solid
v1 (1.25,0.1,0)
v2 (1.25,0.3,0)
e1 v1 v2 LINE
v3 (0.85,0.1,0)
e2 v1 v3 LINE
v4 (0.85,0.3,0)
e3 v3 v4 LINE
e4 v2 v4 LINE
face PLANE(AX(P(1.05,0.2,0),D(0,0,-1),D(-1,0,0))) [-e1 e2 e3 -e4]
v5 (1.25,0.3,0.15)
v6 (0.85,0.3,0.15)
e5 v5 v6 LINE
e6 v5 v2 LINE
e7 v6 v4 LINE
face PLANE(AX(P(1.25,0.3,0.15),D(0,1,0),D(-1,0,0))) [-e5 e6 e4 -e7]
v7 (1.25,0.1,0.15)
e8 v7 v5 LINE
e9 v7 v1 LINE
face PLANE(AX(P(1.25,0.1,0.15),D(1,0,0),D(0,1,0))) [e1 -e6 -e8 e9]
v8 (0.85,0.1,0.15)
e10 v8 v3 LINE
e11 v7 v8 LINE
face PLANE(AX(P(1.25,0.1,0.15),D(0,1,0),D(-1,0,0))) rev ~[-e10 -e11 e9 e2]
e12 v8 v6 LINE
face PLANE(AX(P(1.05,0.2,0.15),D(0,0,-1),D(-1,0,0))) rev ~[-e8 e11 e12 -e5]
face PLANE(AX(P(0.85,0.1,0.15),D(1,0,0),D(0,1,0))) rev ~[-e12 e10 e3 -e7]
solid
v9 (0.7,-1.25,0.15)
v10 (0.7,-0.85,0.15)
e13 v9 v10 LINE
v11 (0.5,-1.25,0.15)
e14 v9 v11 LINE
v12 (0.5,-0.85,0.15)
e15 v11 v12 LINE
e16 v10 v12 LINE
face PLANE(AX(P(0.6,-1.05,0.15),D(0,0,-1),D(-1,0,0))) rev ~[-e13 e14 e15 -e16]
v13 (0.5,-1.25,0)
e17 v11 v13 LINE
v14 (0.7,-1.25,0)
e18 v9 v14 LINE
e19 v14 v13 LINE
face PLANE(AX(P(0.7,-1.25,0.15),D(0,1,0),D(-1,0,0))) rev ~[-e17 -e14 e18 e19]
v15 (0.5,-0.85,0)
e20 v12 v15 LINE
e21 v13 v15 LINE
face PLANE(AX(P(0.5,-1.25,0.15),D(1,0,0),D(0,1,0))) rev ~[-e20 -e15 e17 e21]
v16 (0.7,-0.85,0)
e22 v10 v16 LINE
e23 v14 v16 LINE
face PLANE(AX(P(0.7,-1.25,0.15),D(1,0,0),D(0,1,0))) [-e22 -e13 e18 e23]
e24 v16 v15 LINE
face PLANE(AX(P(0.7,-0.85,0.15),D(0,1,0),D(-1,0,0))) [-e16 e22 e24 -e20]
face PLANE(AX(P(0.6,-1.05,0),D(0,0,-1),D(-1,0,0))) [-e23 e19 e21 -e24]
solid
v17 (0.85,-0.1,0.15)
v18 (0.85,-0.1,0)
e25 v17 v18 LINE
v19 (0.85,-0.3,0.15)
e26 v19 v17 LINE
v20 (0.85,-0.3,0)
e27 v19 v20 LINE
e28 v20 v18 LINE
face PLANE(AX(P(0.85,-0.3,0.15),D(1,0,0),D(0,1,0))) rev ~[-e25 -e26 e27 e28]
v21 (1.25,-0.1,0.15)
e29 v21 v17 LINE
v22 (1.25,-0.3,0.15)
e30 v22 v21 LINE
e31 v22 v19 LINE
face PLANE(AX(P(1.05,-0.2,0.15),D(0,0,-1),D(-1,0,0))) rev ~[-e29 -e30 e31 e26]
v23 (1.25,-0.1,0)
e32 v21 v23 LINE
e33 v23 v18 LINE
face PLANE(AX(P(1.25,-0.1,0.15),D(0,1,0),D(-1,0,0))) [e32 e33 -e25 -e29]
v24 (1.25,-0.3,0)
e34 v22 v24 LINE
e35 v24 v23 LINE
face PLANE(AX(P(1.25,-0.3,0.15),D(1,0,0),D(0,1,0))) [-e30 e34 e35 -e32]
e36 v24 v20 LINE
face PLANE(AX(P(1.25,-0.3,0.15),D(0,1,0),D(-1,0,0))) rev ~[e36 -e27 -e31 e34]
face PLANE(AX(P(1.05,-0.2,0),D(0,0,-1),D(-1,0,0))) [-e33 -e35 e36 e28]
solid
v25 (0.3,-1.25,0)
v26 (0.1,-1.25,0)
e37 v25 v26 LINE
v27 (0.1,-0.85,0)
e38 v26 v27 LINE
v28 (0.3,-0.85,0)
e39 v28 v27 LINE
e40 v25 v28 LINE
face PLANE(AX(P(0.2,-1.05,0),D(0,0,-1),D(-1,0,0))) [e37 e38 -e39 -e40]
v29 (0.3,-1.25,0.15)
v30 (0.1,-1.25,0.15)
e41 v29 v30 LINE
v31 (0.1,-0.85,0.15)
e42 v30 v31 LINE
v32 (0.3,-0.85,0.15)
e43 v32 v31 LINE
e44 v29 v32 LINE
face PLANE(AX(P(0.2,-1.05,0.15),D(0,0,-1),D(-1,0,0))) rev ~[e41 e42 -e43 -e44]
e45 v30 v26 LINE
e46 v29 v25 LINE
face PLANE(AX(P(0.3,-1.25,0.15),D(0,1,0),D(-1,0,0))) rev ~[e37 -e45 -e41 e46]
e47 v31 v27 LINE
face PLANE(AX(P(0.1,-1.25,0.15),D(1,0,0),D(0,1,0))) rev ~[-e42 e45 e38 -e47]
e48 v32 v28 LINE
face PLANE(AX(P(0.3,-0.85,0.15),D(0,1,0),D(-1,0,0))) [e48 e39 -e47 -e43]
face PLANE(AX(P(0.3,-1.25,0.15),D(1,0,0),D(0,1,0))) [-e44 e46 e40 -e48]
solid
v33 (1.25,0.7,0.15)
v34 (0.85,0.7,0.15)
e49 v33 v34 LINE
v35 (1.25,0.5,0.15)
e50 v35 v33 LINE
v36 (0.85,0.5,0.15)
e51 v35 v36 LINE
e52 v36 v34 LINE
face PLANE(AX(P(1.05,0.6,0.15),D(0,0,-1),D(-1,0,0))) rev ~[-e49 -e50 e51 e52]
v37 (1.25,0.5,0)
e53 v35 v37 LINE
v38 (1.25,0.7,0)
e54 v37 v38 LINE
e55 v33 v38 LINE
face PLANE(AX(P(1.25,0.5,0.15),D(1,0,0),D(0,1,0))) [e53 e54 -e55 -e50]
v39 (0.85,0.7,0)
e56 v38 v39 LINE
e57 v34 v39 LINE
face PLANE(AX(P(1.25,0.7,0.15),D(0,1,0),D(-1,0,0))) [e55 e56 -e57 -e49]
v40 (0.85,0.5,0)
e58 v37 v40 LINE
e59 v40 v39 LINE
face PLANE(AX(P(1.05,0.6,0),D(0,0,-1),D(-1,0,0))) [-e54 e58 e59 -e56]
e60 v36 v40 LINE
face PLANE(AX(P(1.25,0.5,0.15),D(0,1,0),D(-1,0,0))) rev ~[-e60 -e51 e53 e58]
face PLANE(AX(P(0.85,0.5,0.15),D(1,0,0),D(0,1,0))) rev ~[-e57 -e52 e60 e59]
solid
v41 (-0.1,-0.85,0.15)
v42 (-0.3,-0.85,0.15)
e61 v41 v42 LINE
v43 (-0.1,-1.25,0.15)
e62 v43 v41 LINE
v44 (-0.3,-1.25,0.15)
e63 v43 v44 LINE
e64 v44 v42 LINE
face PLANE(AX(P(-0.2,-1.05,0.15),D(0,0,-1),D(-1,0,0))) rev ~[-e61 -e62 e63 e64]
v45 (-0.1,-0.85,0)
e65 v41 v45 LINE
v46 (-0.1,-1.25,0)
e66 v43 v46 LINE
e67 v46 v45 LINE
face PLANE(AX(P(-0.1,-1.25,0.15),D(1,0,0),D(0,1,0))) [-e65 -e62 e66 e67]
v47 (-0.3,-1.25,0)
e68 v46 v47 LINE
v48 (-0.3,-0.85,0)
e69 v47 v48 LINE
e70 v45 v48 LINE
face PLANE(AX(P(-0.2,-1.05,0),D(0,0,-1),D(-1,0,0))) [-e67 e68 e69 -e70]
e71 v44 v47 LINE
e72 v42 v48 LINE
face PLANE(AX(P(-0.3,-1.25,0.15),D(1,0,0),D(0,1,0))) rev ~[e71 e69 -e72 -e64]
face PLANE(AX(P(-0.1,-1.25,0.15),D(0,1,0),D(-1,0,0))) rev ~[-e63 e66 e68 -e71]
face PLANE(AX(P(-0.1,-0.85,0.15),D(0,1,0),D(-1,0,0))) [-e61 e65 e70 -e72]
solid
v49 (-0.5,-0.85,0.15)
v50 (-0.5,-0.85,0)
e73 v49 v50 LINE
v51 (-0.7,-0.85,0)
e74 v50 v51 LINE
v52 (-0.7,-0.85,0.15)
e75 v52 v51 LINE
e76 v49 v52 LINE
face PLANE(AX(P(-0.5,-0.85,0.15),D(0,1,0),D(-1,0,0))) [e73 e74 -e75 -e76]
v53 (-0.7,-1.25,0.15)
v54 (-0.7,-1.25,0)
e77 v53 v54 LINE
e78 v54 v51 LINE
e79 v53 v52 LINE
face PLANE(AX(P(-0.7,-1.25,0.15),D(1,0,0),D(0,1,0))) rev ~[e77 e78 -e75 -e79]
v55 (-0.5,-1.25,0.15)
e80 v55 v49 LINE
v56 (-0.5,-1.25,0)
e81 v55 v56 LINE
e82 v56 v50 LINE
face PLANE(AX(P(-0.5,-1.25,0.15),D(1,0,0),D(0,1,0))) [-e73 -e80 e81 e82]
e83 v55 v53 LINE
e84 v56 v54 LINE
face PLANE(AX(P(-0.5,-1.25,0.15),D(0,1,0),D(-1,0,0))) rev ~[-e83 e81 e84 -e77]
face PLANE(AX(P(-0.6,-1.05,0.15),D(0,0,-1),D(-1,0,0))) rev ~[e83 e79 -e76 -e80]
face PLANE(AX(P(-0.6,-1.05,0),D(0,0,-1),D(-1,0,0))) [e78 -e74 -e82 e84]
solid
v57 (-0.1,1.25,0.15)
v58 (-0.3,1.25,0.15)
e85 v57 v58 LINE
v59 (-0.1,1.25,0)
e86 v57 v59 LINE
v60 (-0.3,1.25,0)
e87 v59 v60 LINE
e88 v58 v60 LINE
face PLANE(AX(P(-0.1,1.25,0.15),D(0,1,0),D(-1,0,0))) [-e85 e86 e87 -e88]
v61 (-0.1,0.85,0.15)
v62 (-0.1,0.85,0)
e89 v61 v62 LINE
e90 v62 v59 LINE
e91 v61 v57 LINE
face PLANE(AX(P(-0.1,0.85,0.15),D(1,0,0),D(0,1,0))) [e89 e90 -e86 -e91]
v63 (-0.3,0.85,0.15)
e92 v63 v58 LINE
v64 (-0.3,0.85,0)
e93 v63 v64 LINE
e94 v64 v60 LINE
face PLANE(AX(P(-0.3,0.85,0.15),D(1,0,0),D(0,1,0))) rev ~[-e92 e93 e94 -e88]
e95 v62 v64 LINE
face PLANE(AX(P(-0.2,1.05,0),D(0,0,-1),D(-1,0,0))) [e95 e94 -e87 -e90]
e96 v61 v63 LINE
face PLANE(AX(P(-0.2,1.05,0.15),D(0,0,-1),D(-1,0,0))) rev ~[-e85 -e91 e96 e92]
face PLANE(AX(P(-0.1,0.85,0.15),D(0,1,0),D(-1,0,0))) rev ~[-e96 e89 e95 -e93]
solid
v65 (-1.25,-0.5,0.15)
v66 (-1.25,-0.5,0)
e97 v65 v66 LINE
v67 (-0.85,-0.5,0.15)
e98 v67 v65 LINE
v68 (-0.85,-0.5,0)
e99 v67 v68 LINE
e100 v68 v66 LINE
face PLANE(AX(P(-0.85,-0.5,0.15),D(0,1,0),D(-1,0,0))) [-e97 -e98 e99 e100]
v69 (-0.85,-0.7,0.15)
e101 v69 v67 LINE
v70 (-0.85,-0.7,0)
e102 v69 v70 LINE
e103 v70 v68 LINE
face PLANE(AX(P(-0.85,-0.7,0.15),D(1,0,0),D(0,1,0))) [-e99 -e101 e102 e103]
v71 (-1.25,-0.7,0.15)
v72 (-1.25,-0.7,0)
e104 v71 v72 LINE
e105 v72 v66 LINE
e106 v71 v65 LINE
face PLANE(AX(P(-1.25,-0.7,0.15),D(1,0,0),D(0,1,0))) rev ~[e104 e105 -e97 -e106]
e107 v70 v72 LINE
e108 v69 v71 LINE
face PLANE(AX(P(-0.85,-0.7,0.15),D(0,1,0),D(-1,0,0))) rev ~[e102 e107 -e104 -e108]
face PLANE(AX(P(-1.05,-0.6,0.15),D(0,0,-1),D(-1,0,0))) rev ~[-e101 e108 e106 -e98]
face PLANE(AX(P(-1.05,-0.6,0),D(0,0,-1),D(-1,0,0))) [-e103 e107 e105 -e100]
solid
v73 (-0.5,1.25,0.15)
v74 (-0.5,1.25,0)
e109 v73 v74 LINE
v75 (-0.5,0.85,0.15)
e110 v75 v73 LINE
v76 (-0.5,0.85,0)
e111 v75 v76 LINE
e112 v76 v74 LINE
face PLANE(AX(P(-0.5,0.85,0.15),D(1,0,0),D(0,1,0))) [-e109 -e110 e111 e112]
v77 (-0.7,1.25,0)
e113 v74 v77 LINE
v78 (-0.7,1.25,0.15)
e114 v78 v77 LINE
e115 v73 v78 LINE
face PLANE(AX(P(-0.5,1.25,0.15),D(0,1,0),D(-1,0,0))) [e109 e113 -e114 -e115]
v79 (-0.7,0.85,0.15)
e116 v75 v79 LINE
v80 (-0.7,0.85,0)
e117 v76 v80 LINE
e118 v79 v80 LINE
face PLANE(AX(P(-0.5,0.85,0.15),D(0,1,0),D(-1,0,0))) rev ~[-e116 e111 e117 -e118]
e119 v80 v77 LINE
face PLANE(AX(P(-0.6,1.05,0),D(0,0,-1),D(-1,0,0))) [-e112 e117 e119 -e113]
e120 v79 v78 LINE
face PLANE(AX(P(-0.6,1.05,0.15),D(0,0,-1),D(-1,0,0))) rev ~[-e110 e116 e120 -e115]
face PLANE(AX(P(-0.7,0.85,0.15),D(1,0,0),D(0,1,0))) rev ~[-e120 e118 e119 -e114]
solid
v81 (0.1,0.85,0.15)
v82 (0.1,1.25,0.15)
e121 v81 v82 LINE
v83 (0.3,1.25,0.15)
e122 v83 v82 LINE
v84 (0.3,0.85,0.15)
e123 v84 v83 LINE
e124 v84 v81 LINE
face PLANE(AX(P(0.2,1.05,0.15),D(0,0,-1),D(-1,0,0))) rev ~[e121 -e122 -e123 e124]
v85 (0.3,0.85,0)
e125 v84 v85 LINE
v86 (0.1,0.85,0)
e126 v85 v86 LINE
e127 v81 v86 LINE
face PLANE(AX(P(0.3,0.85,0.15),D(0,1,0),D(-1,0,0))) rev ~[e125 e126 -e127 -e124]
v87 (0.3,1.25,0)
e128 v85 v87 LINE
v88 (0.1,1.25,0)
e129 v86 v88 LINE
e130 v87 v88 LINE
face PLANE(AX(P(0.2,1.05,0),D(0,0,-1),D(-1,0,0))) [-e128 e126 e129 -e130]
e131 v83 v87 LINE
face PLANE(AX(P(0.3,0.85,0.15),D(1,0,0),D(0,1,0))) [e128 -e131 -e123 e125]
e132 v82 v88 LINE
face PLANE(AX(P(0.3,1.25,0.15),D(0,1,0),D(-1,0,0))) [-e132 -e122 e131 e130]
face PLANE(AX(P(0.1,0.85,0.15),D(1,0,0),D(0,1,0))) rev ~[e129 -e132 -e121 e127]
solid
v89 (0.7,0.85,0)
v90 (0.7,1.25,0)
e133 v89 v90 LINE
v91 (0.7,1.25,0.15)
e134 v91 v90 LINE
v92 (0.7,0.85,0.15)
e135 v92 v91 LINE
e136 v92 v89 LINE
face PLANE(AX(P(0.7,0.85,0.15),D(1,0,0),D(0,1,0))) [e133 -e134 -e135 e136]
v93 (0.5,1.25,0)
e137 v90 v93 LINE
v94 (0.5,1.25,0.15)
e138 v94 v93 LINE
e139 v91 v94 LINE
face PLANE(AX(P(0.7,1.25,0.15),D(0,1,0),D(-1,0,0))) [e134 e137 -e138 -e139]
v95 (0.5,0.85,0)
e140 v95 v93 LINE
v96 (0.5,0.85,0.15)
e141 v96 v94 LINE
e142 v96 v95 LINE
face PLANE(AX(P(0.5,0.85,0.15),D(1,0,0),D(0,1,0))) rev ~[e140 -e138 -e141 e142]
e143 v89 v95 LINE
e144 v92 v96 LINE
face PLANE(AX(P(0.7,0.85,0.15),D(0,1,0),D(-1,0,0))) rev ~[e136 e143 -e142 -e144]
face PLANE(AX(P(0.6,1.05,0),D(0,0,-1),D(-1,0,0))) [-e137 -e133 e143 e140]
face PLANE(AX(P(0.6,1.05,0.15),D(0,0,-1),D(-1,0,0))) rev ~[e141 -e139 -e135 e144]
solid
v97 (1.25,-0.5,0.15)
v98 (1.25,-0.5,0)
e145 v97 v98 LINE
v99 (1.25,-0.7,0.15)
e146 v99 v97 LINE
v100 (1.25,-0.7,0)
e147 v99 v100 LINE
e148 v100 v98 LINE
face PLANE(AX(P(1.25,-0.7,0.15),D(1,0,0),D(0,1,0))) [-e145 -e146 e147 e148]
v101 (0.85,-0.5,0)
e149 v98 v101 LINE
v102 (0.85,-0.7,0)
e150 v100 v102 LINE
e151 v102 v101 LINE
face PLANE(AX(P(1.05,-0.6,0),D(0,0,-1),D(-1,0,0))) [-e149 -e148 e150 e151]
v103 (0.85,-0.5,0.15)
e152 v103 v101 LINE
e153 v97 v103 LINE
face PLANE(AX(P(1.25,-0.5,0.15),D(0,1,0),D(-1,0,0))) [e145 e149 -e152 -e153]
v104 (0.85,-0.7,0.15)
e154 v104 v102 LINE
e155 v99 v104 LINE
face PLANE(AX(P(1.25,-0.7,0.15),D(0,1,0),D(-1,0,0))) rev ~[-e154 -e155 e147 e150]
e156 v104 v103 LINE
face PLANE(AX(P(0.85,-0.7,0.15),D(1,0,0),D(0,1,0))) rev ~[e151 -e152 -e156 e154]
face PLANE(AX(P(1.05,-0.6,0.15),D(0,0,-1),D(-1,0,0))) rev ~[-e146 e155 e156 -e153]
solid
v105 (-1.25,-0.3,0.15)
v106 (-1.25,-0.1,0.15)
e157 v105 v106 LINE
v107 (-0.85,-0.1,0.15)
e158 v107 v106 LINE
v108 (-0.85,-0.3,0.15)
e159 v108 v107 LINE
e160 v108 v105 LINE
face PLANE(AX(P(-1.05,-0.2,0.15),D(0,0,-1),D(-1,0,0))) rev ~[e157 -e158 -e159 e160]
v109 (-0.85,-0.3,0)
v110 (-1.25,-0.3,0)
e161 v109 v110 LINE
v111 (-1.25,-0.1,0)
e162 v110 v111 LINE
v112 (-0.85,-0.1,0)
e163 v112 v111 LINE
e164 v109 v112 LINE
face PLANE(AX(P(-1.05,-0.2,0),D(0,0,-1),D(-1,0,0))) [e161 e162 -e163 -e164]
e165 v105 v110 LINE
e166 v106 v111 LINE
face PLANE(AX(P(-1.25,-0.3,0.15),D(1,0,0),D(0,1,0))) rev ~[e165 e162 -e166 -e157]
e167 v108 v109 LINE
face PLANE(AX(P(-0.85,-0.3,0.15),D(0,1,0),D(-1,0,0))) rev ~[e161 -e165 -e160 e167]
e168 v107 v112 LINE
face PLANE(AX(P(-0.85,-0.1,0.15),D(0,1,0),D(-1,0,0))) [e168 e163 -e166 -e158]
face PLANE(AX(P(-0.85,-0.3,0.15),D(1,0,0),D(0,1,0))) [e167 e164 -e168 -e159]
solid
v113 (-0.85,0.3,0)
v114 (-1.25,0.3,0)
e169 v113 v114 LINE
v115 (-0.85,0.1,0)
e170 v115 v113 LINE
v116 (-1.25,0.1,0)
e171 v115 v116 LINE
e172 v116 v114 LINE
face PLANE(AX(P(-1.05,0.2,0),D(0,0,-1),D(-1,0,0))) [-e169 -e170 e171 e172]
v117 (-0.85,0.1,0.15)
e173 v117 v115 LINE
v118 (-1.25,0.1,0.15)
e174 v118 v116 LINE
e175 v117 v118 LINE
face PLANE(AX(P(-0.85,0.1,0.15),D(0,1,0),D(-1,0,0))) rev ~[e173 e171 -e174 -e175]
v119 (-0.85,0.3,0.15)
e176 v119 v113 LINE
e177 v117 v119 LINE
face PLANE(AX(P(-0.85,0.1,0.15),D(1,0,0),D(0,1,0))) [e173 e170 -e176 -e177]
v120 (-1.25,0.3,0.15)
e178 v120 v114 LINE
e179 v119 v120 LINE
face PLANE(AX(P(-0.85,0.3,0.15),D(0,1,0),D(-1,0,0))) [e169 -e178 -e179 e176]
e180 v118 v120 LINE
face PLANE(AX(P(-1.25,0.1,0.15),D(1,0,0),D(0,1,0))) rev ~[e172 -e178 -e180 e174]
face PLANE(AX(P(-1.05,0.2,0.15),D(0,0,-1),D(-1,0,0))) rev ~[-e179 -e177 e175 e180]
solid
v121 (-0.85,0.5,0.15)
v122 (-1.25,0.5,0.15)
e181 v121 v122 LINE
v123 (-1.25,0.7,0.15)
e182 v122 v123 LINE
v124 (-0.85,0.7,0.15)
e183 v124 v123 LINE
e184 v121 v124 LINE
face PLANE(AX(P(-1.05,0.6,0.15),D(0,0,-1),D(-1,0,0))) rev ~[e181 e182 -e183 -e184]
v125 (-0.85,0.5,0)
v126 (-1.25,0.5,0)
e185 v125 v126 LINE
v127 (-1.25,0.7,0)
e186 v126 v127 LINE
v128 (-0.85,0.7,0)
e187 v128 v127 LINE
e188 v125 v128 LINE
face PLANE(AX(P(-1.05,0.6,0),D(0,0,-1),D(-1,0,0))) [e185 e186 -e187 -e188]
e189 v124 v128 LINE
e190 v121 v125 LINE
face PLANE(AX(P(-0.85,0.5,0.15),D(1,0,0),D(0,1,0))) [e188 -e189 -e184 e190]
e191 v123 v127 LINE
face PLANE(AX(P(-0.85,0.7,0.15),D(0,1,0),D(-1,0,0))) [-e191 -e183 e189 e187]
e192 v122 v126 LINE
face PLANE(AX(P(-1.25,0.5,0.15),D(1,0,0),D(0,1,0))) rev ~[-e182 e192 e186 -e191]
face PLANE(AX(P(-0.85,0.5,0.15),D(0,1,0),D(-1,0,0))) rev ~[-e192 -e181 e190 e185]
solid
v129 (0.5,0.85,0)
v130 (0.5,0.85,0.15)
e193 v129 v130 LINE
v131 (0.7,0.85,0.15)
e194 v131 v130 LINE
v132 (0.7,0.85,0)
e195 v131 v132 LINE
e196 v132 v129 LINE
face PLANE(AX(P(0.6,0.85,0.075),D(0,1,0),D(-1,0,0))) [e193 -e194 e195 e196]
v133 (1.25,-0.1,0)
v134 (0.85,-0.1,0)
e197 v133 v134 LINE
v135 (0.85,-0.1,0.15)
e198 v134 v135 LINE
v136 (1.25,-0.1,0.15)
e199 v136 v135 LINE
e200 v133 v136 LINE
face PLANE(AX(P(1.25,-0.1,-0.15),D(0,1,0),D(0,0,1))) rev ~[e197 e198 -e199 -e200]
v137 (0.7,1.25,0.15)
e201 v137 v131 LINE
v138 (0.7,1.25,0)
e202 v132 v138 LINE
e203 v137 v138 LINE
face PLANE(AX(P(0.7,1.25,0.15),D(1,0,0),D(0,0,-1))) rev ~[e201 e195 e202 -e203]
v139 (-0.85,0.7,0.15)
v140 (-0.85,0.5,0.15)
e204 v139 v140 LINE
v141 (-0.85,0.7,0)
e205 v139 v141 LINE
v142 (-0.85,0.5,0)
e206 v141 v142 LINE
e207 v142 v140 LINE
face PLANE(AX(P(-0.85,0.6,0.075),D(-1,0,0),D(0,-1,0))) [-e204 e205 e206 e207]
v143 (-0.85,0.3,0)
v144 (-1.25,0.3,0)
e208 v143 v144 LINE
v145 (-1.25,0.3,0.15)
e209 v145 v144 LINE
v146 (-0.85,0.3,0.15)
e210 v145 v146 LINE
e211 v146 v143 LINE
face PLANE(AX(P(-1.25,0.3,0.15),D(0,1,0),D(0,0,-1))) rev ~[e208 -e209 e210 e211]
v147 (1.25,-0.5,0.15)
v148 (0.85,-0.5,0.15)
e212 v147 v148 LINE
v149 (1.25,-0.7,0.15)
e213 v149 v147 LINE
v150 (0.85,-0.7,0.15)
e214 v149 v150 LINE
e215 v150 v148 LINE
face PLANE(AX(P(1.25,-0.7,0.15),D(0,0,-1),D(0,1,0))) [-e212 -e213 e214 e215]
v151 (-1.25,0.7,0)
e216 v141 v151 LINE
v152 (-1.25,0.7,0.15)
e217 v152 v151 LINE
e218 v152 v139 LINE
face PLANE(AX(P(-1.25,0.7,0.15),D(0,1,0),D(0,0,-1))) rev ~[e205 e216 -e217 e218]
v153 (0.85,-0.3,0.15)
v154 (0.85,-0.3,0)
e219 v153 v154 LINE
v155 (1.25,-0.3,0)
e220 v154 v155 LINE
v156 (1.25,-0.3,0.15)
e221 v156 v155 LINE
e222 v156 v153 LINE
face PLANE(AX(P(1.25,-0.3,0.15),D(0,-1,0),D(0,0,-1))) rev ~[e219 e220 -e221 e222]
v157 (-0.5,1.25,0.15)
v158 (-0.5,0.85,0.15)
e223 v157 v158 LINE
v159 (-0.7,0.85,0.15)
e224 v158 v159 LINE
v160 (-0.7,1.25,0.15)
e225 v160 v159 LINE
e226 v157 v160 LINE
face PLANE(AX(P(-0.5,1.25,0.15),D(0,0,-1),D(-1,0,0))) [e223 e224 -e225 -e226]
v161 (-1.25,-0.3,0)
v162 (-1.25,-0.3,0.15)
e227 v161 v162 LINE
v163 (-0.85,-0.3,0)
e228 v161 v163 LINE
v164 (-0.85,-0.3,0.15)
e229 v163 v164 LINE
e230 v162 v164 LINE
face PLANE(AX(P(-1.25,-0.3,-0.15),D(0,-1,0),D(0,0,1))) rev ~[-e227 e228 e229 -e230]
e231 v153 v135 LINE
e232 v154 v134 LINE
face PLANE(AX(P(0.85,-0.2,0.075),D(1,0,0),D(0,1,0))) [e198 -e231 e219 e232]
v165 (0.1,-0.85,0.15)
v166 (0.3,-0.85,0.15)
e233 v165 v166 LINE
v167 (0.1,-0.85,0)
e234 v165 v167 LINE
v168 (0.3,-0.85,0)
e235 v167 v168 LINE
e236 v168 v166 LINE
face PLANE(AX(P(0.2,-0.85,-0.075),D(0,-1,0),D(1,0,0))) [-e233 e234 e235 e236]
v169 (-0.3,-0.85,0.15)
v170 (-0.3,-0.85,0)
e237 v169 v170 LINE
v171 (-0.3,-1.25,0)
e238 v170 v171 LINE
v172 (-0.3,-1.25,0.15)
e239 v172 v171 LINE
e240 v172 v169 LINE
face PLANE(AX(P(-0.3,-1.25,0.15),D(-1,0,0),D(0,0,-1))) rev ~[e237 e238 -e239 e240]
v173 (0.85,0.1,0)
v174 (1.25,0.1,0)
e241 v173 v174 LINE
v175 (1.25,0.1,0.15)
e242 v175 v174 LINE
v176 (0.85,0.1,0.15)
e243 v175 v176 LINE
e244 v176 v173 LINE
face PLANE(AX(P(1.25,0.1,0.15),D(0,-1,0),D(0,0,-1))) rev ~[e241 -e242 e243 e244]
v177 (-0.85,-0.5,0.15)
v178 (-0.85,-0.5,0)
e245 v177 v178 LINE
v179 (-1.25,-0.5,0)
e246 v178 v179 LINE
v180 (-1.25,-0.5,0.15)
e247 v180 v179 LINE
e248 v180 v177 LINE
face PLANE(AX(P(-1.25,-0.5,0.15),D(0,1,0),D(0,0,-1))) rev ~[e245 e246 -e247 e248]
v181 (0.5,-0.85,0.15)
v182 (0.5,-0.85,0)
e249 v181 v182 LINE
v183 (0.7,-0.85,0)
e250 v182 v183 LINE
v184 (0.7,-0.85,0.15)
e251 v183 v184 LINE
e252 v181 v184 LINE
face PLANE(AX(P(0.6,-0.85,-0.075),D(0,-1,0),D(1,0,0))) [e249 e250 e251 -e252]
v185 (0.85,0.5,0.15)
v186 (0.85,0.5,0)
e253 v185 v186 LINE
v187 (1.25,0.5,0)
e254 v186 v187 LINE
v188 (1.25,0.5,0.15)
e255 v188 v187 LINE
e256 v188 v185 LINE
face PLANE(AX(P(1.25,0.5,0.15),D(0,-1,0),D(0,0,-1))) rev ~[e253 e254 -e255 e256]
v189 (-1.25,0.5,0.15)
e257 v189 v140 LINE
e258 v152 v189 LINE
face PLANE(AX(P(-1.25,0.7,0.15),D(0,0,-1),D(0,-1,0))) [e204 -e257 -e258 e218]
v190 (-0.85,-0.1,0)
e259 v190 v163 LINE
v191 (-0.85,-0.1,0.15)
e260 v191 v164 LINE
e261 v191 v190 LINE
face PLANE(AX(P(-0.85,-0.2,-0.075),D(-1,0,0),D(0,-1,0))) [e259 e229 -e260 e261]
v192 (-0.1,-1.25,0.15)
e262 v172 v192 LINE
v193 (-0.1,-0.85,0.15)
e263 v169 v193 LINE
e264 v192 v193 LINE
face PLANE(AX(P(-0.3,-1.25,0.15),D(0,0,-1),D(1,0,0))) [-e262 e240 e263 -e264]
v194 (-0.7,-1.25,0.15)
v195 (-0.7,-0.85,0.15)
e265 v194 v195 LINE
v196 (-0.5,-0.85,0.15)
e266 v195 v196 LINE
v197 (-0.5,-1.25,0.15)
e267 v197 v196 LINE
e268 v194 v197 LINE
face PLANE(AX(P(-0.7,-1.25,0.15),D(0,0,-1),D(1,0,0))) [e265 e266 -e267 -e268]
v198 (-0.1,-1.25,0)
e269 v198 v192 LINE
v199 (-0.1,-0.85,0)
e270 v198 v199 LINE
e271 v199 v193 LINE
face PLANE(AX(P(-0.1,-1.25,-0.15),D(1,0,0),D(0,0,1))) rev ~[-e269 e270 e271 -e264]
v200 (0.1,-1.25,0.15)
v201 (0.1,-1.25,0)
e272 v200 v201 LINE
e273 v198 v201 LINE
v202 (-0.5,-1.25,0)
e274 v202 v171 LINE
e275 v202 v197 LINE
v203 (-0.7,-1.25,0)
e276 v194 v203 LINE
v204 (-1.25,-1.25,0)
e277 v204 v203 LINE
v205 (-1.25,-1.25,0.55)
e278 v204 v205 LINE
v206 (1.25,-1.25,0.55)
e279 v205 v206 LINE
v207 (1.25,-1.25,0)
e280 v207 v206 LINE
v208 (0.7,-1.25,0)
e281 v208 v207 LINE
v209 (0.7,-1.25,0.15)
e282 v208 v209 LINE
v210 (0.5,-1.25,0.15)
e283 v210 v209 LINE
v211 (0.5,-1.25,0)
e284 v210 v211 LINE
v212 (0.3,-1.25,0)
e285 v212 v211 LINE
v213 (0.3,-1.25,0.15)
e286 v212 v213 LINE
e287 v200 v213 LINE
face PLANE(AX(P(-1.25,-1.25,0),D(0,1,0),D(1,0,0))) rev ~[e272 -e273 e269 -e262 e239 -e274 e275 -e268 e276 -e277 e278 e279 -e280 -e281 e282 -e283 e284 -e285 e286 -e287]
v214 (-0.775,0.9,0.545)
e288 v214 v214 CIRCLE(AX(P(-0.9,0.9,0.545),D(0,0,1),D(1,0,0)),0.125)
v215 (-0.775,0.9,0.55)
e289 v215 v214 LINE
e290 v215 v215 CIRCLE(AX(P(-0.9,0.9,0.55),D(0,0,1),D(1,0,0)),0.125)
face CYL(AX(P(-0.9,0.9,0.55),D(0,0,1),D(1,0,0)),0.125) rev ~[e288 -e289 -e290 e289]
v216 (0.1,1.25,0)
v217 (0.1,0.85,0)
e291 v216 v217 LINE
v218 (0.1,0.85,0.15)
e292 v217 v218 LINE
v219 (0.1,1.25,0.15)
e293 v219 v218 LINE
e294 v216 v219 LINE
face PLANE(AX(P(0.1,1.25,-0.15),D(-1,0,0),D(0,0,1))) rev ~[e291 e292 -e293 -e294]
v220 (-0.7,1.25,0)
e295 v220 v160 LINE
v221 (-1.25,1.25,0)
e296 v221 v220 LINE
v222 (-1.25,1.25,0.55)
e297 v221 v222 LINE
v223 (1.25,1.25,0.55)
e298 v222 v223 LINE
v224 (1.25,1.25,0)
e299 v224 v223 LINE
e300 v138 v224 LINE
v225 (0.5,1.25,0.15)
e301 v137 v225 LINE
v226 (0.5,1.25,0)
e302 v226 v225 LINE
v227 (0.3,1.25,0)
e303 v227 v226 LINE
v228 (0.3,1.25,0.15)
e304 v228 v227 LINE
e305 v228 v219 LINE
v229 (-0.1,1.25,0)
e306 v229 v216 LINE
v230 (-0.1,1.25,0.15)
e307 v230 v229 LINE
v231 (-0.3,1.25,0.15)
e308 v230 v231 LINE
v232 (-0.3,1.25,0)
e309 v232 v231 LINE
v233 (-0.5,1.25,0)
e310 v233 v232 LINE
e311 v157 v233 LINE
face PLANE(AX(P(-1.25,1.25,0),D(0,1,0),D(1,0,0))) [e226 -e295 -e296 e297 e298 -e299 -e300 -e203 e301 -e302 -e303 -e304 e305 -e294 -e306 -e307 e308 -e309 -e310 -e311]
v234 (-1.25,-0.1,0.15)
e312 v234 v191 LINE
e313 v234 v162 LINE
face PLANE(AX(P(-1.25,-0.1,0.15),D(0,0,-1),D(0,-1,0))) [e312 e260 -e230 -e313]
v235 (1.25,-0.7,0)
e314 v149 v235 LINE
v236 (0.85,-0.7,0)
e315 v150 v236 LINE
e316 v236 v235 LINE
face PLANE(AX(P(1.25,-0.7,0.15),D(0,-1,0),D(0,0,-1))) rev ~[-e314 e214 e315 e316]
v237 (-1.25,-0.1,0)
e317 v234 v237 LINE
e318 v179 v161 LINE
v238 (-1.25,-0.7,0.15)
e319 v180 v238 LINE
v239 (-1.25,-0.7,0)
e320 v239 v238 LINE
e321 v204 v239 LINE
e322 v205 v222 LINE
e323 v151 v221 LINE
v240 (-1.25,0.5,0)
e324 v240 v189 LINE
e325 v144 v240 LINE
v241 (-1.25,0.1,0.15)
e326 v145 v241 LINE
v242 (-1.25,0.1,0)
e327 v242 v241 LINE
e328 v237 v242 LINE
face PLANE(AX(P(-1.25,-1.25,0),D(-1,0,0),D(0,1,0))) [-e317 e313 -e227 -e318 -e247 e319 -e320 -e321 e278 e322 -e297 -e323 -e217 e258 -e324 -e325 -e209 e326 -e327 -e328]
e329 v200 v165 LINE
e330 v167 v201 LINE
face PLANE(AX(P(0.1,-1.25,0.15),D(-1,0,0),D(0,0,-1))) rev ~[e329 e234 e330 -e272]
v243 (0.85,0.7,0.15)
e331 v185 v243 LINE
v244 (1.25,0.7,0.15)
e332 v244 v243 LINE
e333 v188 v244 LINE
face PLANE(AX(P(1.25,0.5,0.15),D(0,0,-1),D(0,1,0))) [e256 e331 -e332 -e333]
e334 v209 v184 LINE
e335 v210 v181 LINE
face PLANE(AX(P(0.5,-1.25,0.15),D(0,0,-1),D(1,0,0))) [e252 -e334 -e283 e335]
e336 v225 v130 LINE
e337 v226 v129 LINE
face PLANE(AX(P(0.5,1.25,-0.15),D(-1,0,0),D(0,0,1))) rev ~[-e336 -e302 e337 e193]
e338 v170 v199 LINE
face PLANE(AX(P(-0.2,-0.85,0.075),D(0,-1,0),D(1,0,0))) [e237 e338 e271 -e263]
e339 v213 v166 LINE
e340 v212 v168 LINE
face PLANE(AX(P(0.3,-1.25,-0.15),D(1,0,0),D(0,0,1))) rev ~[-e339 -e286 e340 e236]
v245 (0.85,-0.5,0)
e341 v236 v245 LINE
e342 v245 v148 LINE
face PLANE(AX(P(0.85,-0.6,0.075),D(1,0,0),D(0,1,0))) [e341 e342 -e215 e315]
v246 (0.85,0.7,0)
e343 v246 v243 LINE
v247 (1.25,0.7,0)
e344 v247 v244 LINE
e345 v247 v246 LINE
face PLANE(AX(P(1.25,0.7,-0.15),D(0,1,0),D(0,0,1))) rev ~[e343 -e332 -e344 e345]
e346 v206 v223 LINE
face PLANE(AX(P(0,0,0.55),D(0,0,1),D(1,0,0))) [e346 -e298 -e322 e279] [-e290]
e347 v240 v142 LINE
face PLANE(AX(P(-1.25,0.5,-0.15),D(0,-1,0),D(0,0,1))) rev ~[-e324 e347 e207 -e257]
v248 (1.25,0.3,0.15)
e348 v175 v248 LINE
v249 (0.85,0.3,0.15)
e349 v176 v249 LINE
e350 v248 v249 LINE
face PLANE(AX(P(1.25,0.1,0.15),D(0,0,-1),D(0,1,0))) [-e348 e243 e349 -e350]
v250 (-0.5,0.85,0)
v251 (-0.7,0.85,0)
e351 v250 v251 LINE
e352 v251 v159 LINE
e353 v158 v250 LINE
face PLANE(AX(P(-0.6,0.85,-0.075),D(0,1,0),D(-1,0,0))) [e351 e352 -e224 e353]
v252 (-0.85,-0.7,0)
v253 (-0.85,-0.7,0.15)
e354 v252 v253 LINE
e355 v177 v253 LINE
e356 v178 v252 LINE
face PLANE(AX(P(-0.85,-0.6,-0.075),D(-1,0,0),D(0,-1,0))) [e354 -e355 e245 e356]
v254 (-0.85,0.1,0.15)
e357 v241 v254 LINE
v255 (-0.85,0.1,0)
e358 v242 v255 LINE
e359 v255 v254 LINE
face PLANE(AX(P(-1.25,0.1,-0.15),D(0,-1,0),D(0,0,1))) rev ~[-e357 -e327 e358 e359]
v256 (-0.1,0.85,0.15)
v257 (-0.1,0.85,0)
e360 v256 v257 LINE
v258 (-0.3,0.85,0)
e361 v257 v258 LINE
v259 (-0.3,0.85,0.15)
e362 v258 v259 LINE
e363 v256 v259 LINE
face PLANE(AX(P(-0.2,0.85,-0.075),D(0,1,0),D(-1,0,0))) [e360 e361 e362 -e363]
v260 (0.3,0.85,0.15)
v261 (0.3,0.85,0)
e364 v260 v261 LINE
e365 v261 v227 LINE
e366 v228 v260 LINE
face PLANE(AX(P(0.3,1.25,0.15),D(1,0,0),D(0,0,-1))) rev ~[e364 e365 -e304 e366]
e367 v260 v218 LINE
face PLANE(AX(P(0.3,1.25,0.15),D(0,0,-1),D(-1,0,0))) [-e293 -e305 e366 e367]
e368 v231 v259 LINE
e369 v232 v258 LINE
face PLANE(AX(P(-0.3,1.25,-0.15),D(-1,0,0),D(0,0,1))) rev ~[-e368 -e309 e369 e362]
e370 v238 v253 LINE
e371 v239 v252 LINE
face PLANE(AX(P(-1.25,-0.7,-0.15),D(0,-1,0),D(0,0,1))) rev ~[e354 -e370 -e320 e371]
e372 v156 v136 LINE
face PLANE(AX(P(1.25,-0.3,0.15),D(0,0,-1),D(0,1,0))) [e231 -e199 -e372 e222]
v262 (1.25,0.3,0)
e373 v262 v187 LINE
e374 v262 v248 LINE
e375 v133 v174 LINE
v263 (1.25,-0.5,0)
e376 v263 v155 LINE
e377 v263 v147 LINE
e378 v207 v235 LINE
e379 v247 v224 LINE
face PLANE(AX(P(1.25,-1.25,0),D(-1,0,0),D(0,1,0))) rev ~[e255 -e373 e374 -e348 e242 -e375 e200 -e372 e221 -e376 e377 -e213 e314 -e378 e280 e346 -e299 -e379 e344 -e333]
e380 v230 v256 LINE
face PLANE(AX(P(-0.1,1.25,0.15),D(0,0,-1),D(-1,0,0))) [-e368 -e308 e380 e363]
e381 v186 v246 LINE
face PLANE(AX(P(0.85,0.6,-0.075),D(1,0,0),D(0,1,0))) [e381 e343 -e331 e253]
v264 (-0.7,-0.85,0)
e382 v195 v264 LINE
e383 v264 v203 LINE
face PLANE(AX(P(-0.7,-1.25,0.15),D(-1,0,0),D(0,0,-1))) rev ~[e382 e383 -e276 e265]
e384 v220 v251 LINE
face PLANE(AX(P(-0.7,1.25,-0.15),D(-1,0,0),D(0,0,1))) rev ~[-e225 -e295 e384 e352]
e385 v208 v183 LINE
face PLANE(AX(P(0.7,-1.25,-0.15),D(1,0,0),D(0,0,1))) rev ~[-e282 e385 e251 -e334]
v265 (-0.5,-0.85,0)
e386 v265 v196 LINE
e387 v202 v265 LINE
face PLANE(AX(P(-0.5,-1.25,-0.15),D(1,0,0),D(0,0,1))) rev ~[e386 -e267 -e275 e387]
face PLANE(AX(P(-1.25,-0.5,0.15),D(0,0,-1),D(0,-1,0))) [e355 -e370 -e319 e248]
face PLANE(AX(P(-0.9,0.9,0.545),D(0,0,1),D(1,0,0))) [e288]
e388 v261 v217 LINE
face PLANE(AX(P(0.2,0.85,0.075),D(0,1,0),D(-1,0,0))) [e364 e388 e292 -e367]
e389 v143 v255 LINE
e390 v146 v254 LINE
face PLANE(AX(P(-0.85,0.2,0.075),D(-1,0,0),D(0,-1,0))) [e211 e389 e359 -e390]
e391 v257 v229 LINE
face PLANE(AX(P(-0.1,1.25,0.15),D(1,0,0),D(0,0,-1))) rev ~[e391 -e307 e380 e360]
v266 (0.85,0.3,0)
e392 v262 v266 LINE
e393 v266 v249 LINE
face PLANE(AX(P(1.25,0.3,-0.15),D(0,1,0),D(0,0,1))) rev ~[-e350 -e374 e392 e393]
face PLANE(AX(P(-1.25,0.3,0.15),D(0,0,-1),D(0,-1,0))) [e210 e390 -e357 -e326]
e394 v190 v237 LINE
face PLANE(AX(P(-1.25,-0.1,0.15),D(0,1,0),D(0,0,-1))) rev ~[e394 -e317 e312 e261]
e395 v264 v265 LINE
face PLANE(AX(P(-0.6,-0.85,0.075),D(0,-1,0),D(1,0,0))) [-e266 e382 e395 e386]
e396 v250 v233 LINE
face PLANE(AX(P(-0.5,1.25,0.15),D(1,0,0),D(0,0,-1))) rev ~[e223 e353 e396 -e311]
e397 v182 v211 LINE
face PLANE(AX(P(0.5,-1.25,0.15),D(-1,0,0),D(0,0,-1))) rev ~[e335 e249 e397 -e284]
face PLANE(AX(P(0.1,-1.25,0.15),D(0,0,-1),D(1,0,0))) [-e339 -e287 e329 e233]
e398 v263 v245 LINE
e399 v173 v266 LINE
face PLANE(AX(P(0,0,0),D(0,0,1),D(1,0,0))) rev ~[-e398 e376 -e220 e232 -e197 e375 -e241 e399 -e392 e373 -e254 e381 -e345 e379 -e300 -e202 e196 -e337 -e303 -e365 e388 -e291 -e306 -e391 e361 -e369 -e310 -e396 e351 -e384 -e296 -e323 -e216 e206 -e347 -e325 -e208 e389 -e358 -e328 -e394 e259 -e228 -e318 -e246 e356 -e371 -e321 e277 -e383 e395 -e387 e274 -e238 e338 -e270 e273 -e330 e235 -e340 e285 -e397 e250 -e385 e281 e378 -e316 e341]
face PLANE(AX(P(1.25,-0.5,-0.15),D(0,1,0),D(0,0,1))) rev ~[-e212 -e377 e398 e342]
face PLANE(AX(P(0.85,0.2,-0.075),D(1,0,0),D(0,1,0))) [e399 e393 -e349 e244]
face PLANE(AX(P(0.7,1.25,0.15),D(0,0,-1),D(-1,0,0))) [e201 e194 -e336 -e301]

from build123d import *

# Parameters (mm, degrees)
SKETCH1_W              = 2.5
SKETCH1_H              = 2.5
BOSS_EXTRUDE1_DEPTH    = 0.55
SKETCH2_W              = 0.2
SKETCH2_H              = 0.15
CUT_EXTRUDE1_DEPTH     = 0.4
CIRPATTERN1_COUNT      = 4
SKETCH3_W              = 0.2
SKETCH3_H              = 0.4
BOSS_EXTRUDE2_DEPTH    = 0.15
BOSS_EXTRUDE2_2_DEPTH  = 0.15
BOSS_EXTRUDE2_3_DEPTH  = 0.15
BOSS_EXTRUDE2_4_DEPTH  = 0.15
SKETCH3_W_2            = 0.4
SKETCH3_H_2            = 0.2
BOSS_EXTRUDE2_5_DEPTH  = 0.15
BOSS_EXTRUDE2_6_DEPTH  = 0.15
BOSS_EXTRUDE2_7_DEPTH  = 0.15
BOSS_EXTRUDE2_8_DEPTH  = 0.15
BOSS_EXTRUDE2_9_DEPTH  = 0.15
BOSS_EXTRUDE2_10_DEPTH = 0.15
BOSS_EXTRUDE2_11_DEPTH = 0.15
BOSS_EXTRUDE2_12_DEPTH = 0.15
BOSS_EXTRUDE2_13_DEPTH = 0.15
BOSS_EXTRUDE2_14_DEPTH = 0.15
BOSS_EXTRUDE2_15_DEPTH = 0.15
BOSS_EXTRUDE2_16_DEPTH = 0.15
SKETCH4_R              = 0.125
CUT_EXTRUDE2_DEPTH     = 0.005


with BuildPart() as part:
    # Sketch1 → Boss-Extrude1 (new body)
    with BuildSketch(Plane.XY):
        Rectangle(SKETCH1_W, SKETCH1_H)
    extrude(amount=BOSS_EXTRUDE1_DEPTH)

    # Sketch2 → Cut-Extrude1 (cut)
    with BuildSketch(Plane.XZ.offset(1.25)):
        with Locations((0.6, -0.075)):
            Rectangle(SKETCH2_W, SKETCH2_H)
        with Locations((0.6, 0.075)):
            Rectangle(SKETCH2_W, SKETCH2_H)
        with Locations((0.2, -0.075)):
            Rectangle(SKETCH2_W, SKETCH2_H)
        with Locations((0.2, 0.075)):
            Rectangle(SKETCH2_W, SKETCH2_H)
        with Locations((-0.2, 0.075)):
            Rectangle(SKETCH2_W, SKETCH2_H)
        with Locations((-0.2, -0.075)):
            Rectangle(SKETCH2_W, SKETCH2_H)
        with Locations((-0.6, 0.075)):
            Rectangle(SKETCH2_W, SKETCH2_H)
        with Locations((-0.6, -0.075)):
            Rectangle(SKETCH2_W, SKETCH2_H)
    cut_extrude1 = extrude(amount=-CUT_EXTRUDE1_DEPTH, mode=Mode.SUBTRACT)

    # CirPattern1: Cut-Extrude1 ×4 about axis
    cirpattern1_axis = Axis((0, 0, 0), (0, 0, 1))
    for i in range(1, CIRPATTERN1_COUNT):
        add(cut_extrude1.rotate(cirpattern1_axis, i * 360 / CIRPATTERN1_COUNT), mode=Mode.SUBTRACT)

    # Sketch4 → Cut-Extrude2 (cut)
    with BuildSketch(Plane.XY.offset(0.55)):
        with Locations((-0.9, 0.9)):
            Circle(SKETCH4_R)
    extrude(amount=-CUT_EXTRUDE2_DEPTH, mode=Mode.SUBTRACT)


with BuildPart() as body_2:
    # Sketch3 → Boss-Extrude2 (new body)
    with BuildSketch(Plane(origin=(0, 0, 0.15), x_dir=(-1, 0, 0), z_dir=(0, 0, -1))):
        with Locations((-0.6, -1.05)):
            Rectangle(SKETCH3_W, SKETCH3_H)
    extrude(amount=BOSS_EXTRUDE2_DEPTH)


with BuildPart() as body_3:
    # Sketch3 → Boss-Extrude2 2 (new body)
    with BuildSketch(Plane(origin=(0, 0, 0.15), x_dir=(-1, 0, 0), z_dir=(0, 0, -1))):
        with Locations((-0.2, -1.05)):
            Rectangle(SKETCH3_W, SKETCH3_H)
    extrude(amount=BOSS_EXTRUDE2_2_DEPTH)


with BuildPart() as body_4:
    # Sketch3 → Boss-Extrude2 3 (new body)
    with BuildSketch(Plane(origin=(0, 0, 0.15), x_dir=(-1, 0, 0), z_dir=(0, 0, -1))):
        with Locations((0.2, -1.05)):
            Rectangle(SKETCH3_W, SKETCH3_H)
    extrude(amount=BOSS_EXTRUDE2_3_DEPTH)


with BuildPart() as body_5:
    # Sketch3 → Boss-Extrude2 4 (new body)
    with BuildSketch(Plane(origin=(0, 0, 0.15), x_dir=(-1, 0, 0), z_dir=(0, 0, -1))):
        with Locations((0.6, -1.05)):
            Rectangle(SKETCH3_W, SKETCH3_H)
    extrude(amount=BOSS_EXTRUDE2_4_DEPTH)


with BuildPart() as body_6:
    # Sketch3 → Boss-Extrude2 5 (new body)
    with BuildSketch(Plane(origin=(0, 0, 0.15), x_dir=(-1, 0, 0), z_dir=(0, 0, -1))):
        with Locations((1.05, -0.6)):
            Rectangle(SKETCH3_W_2, SKETCH3_H_2)
    extrude(amount=BOSS_EXTRUDE2_5_DEPTH)


with BuildPart() as body_7:
    # Sketch3 → Boss-Extrude2 6 (new body)
    with BuildSketch(Plane(origin=(0, 0, 0.15), x_dir=(-1, 0, 0), z_dir=(0, 0, -1))):
        with Locations((1.05, -0.2)):
            Rectangle(SKETCH3_W_2, SKETCH3_H_2)
    extrude(amount=BOSS_EXTRUDE2_6_DEPTH)


with BuildPart() as body_8:
    # Sketch3 → Boss-Extrude2 7 (new body)
    with BuildSketch(Plane(origin=(0, 0, 0.15), x_dir=(-1, 0, 0), z_dir=(0, 0, -1))):
        with Locations((1.05, 0.2)):
            Rectangle(SKETCH3_W_2, SKETCH3_H_2)
    extrude(amount=BOSS_EXTRUDE2_7_DEPTH)


with BuildPart() as body_9:
    # Sketch3 → Boss-Extrude2 8 (new body)
    with BuildSketch(Plane(origin=(0, 0, 0.15), x_dir=(-1, 0, 0), z_dir=(0, 0, -1))):
        with Locations((1.05, 0.6)):
            Rectangle(SKETCH3_W_2, SKETCH3_H_2)
    extrude(amount=BOSS_EXTRUDE2_8_DEPTH)


with BuildPart() as body_10:
    # Sketch3 → Boss-Extrude2 9 (new body)
    with BuildSketch(Plane(origin=(0, 0, 0.15), x_dir=(-1, 0, 0), z_dir=(0, 0, -1))):
        with Locations((0.6, 1.05)):
            Rectangle(SKETCH3_W, SKETCH3_H)
    extrude(amount=BOSS_EXTRUDE2_9_DEPTH)


with BuildPart() as body_11:
    # Sketch3 → Boss-Extrude2 10 (new body)
    with BuildSketch(Plane(origin=(0, 0, 0.15), x_dir=(-1, 0, 0), z_dir=(0, 0, -1))):
        with Locations((0.2, 1.05)):
            Rectangle(SKETCH3_W, SKETCH3_H)
    extrude(amount=BOSS_EXTRUDE2_10_DEPTH)


with BuildPart() as body_12:
    # Sketch3 → Boss-Extrude2 11 (new body)
    with BuildSketch(Plane(origin=(0, 0, 0.15), x_dir=(-1, 0, 0), z_dir=(0, 0, -1))):
        with Locations((-0.2, 1.05)):
            Rectangle(SKETCH3_W, SKETCH3_H)
    extrude(amount=BOSS_EXTRUDE2_11_DEPTH)


with BuildPart() as body_13:
    # Sketch3 → Boss-Extrude2 12 (new body)
    with BuildSketch(Plane(origin=(0, 0, 0.15), x_dir=(-1, 0, 0), z_dir=(0, 0, -1))):
        with Locations((-0.6, 1.05)):
            Rectangle(SKETCH3_W, SKETCH3_H)
    extrude(amount=BOSS_EXTRUDE2_12_DEPTH)


with BuildPart() as body_14:
    # Sketch3 → Boss-Extrude2 13 (new body)
    with BuildSketch(Plane(origin=(0, 0, 0.15), x_dir=(-1, 0, 0), z_dir=(0, 0, -1))):
        with Locations((-1.05, 0.6)):
            Rectangle(SKETCH3_W_2, SKETCH3_H_2)
    extrude(amount=BOSS_EXTRUDE2_13_DEPTH)


with BuildPart() as body_15:
    # Sketch3 → Boss-Extrude2 14 (new body)
    with BuildSketch(Plane(origin=(0, 0, 0.15), x_dir=(-1, 0, 0), z_dir=(0, 0, -1))):
        with Locations((-1.05, 0.2)):
            Rectangle(SKETCH3_W_2, SKETCH3_H_2)
    extrude(amount=BOSS_EXTRUDE2_14_DEPTH)


with BuildPart() as body_16:
    # Sketch3 → Boss-Extrude2 15 (new body)
    with BuildSketch(Plane(origin=(0, 0, 0.15), x_dir=(-1, 0, 0), z_dir=(0, 0, -1))):
        with Locations((-1.05, -0.2)):
            Rectangle(SKETCH3_W_2, SKETCH3_H_2)
    extrude(amount=BOSS_EXTRUDE2_15_DEPTH)


with BuildPart() as body_17:
    # Sketch3 → Boss-Extrude2 16 (new body)
    with BuildSketch(Plane(origin=(0, 0, 0.15), x_dir=(-1, 0, 0), z_dir=(0, 0, -1))):
        with Locations((-1.05, -0.6)):
            Rectangle(SKETCH3_W_2, SKETCH3_H_2)
    extrude(amount=BOSS_EXTRUDE2_16_DEPTH)


solid = Compound([part.part, body_2.part, body_3.part, body_4.part, body_5.part, body_6.part, body_7.part, body_8.part, body_9.part, body_10.part, body_11.part, body_12.part, body_13.part, body_14.part, body_15.part, body_16.part, body_17.part])
